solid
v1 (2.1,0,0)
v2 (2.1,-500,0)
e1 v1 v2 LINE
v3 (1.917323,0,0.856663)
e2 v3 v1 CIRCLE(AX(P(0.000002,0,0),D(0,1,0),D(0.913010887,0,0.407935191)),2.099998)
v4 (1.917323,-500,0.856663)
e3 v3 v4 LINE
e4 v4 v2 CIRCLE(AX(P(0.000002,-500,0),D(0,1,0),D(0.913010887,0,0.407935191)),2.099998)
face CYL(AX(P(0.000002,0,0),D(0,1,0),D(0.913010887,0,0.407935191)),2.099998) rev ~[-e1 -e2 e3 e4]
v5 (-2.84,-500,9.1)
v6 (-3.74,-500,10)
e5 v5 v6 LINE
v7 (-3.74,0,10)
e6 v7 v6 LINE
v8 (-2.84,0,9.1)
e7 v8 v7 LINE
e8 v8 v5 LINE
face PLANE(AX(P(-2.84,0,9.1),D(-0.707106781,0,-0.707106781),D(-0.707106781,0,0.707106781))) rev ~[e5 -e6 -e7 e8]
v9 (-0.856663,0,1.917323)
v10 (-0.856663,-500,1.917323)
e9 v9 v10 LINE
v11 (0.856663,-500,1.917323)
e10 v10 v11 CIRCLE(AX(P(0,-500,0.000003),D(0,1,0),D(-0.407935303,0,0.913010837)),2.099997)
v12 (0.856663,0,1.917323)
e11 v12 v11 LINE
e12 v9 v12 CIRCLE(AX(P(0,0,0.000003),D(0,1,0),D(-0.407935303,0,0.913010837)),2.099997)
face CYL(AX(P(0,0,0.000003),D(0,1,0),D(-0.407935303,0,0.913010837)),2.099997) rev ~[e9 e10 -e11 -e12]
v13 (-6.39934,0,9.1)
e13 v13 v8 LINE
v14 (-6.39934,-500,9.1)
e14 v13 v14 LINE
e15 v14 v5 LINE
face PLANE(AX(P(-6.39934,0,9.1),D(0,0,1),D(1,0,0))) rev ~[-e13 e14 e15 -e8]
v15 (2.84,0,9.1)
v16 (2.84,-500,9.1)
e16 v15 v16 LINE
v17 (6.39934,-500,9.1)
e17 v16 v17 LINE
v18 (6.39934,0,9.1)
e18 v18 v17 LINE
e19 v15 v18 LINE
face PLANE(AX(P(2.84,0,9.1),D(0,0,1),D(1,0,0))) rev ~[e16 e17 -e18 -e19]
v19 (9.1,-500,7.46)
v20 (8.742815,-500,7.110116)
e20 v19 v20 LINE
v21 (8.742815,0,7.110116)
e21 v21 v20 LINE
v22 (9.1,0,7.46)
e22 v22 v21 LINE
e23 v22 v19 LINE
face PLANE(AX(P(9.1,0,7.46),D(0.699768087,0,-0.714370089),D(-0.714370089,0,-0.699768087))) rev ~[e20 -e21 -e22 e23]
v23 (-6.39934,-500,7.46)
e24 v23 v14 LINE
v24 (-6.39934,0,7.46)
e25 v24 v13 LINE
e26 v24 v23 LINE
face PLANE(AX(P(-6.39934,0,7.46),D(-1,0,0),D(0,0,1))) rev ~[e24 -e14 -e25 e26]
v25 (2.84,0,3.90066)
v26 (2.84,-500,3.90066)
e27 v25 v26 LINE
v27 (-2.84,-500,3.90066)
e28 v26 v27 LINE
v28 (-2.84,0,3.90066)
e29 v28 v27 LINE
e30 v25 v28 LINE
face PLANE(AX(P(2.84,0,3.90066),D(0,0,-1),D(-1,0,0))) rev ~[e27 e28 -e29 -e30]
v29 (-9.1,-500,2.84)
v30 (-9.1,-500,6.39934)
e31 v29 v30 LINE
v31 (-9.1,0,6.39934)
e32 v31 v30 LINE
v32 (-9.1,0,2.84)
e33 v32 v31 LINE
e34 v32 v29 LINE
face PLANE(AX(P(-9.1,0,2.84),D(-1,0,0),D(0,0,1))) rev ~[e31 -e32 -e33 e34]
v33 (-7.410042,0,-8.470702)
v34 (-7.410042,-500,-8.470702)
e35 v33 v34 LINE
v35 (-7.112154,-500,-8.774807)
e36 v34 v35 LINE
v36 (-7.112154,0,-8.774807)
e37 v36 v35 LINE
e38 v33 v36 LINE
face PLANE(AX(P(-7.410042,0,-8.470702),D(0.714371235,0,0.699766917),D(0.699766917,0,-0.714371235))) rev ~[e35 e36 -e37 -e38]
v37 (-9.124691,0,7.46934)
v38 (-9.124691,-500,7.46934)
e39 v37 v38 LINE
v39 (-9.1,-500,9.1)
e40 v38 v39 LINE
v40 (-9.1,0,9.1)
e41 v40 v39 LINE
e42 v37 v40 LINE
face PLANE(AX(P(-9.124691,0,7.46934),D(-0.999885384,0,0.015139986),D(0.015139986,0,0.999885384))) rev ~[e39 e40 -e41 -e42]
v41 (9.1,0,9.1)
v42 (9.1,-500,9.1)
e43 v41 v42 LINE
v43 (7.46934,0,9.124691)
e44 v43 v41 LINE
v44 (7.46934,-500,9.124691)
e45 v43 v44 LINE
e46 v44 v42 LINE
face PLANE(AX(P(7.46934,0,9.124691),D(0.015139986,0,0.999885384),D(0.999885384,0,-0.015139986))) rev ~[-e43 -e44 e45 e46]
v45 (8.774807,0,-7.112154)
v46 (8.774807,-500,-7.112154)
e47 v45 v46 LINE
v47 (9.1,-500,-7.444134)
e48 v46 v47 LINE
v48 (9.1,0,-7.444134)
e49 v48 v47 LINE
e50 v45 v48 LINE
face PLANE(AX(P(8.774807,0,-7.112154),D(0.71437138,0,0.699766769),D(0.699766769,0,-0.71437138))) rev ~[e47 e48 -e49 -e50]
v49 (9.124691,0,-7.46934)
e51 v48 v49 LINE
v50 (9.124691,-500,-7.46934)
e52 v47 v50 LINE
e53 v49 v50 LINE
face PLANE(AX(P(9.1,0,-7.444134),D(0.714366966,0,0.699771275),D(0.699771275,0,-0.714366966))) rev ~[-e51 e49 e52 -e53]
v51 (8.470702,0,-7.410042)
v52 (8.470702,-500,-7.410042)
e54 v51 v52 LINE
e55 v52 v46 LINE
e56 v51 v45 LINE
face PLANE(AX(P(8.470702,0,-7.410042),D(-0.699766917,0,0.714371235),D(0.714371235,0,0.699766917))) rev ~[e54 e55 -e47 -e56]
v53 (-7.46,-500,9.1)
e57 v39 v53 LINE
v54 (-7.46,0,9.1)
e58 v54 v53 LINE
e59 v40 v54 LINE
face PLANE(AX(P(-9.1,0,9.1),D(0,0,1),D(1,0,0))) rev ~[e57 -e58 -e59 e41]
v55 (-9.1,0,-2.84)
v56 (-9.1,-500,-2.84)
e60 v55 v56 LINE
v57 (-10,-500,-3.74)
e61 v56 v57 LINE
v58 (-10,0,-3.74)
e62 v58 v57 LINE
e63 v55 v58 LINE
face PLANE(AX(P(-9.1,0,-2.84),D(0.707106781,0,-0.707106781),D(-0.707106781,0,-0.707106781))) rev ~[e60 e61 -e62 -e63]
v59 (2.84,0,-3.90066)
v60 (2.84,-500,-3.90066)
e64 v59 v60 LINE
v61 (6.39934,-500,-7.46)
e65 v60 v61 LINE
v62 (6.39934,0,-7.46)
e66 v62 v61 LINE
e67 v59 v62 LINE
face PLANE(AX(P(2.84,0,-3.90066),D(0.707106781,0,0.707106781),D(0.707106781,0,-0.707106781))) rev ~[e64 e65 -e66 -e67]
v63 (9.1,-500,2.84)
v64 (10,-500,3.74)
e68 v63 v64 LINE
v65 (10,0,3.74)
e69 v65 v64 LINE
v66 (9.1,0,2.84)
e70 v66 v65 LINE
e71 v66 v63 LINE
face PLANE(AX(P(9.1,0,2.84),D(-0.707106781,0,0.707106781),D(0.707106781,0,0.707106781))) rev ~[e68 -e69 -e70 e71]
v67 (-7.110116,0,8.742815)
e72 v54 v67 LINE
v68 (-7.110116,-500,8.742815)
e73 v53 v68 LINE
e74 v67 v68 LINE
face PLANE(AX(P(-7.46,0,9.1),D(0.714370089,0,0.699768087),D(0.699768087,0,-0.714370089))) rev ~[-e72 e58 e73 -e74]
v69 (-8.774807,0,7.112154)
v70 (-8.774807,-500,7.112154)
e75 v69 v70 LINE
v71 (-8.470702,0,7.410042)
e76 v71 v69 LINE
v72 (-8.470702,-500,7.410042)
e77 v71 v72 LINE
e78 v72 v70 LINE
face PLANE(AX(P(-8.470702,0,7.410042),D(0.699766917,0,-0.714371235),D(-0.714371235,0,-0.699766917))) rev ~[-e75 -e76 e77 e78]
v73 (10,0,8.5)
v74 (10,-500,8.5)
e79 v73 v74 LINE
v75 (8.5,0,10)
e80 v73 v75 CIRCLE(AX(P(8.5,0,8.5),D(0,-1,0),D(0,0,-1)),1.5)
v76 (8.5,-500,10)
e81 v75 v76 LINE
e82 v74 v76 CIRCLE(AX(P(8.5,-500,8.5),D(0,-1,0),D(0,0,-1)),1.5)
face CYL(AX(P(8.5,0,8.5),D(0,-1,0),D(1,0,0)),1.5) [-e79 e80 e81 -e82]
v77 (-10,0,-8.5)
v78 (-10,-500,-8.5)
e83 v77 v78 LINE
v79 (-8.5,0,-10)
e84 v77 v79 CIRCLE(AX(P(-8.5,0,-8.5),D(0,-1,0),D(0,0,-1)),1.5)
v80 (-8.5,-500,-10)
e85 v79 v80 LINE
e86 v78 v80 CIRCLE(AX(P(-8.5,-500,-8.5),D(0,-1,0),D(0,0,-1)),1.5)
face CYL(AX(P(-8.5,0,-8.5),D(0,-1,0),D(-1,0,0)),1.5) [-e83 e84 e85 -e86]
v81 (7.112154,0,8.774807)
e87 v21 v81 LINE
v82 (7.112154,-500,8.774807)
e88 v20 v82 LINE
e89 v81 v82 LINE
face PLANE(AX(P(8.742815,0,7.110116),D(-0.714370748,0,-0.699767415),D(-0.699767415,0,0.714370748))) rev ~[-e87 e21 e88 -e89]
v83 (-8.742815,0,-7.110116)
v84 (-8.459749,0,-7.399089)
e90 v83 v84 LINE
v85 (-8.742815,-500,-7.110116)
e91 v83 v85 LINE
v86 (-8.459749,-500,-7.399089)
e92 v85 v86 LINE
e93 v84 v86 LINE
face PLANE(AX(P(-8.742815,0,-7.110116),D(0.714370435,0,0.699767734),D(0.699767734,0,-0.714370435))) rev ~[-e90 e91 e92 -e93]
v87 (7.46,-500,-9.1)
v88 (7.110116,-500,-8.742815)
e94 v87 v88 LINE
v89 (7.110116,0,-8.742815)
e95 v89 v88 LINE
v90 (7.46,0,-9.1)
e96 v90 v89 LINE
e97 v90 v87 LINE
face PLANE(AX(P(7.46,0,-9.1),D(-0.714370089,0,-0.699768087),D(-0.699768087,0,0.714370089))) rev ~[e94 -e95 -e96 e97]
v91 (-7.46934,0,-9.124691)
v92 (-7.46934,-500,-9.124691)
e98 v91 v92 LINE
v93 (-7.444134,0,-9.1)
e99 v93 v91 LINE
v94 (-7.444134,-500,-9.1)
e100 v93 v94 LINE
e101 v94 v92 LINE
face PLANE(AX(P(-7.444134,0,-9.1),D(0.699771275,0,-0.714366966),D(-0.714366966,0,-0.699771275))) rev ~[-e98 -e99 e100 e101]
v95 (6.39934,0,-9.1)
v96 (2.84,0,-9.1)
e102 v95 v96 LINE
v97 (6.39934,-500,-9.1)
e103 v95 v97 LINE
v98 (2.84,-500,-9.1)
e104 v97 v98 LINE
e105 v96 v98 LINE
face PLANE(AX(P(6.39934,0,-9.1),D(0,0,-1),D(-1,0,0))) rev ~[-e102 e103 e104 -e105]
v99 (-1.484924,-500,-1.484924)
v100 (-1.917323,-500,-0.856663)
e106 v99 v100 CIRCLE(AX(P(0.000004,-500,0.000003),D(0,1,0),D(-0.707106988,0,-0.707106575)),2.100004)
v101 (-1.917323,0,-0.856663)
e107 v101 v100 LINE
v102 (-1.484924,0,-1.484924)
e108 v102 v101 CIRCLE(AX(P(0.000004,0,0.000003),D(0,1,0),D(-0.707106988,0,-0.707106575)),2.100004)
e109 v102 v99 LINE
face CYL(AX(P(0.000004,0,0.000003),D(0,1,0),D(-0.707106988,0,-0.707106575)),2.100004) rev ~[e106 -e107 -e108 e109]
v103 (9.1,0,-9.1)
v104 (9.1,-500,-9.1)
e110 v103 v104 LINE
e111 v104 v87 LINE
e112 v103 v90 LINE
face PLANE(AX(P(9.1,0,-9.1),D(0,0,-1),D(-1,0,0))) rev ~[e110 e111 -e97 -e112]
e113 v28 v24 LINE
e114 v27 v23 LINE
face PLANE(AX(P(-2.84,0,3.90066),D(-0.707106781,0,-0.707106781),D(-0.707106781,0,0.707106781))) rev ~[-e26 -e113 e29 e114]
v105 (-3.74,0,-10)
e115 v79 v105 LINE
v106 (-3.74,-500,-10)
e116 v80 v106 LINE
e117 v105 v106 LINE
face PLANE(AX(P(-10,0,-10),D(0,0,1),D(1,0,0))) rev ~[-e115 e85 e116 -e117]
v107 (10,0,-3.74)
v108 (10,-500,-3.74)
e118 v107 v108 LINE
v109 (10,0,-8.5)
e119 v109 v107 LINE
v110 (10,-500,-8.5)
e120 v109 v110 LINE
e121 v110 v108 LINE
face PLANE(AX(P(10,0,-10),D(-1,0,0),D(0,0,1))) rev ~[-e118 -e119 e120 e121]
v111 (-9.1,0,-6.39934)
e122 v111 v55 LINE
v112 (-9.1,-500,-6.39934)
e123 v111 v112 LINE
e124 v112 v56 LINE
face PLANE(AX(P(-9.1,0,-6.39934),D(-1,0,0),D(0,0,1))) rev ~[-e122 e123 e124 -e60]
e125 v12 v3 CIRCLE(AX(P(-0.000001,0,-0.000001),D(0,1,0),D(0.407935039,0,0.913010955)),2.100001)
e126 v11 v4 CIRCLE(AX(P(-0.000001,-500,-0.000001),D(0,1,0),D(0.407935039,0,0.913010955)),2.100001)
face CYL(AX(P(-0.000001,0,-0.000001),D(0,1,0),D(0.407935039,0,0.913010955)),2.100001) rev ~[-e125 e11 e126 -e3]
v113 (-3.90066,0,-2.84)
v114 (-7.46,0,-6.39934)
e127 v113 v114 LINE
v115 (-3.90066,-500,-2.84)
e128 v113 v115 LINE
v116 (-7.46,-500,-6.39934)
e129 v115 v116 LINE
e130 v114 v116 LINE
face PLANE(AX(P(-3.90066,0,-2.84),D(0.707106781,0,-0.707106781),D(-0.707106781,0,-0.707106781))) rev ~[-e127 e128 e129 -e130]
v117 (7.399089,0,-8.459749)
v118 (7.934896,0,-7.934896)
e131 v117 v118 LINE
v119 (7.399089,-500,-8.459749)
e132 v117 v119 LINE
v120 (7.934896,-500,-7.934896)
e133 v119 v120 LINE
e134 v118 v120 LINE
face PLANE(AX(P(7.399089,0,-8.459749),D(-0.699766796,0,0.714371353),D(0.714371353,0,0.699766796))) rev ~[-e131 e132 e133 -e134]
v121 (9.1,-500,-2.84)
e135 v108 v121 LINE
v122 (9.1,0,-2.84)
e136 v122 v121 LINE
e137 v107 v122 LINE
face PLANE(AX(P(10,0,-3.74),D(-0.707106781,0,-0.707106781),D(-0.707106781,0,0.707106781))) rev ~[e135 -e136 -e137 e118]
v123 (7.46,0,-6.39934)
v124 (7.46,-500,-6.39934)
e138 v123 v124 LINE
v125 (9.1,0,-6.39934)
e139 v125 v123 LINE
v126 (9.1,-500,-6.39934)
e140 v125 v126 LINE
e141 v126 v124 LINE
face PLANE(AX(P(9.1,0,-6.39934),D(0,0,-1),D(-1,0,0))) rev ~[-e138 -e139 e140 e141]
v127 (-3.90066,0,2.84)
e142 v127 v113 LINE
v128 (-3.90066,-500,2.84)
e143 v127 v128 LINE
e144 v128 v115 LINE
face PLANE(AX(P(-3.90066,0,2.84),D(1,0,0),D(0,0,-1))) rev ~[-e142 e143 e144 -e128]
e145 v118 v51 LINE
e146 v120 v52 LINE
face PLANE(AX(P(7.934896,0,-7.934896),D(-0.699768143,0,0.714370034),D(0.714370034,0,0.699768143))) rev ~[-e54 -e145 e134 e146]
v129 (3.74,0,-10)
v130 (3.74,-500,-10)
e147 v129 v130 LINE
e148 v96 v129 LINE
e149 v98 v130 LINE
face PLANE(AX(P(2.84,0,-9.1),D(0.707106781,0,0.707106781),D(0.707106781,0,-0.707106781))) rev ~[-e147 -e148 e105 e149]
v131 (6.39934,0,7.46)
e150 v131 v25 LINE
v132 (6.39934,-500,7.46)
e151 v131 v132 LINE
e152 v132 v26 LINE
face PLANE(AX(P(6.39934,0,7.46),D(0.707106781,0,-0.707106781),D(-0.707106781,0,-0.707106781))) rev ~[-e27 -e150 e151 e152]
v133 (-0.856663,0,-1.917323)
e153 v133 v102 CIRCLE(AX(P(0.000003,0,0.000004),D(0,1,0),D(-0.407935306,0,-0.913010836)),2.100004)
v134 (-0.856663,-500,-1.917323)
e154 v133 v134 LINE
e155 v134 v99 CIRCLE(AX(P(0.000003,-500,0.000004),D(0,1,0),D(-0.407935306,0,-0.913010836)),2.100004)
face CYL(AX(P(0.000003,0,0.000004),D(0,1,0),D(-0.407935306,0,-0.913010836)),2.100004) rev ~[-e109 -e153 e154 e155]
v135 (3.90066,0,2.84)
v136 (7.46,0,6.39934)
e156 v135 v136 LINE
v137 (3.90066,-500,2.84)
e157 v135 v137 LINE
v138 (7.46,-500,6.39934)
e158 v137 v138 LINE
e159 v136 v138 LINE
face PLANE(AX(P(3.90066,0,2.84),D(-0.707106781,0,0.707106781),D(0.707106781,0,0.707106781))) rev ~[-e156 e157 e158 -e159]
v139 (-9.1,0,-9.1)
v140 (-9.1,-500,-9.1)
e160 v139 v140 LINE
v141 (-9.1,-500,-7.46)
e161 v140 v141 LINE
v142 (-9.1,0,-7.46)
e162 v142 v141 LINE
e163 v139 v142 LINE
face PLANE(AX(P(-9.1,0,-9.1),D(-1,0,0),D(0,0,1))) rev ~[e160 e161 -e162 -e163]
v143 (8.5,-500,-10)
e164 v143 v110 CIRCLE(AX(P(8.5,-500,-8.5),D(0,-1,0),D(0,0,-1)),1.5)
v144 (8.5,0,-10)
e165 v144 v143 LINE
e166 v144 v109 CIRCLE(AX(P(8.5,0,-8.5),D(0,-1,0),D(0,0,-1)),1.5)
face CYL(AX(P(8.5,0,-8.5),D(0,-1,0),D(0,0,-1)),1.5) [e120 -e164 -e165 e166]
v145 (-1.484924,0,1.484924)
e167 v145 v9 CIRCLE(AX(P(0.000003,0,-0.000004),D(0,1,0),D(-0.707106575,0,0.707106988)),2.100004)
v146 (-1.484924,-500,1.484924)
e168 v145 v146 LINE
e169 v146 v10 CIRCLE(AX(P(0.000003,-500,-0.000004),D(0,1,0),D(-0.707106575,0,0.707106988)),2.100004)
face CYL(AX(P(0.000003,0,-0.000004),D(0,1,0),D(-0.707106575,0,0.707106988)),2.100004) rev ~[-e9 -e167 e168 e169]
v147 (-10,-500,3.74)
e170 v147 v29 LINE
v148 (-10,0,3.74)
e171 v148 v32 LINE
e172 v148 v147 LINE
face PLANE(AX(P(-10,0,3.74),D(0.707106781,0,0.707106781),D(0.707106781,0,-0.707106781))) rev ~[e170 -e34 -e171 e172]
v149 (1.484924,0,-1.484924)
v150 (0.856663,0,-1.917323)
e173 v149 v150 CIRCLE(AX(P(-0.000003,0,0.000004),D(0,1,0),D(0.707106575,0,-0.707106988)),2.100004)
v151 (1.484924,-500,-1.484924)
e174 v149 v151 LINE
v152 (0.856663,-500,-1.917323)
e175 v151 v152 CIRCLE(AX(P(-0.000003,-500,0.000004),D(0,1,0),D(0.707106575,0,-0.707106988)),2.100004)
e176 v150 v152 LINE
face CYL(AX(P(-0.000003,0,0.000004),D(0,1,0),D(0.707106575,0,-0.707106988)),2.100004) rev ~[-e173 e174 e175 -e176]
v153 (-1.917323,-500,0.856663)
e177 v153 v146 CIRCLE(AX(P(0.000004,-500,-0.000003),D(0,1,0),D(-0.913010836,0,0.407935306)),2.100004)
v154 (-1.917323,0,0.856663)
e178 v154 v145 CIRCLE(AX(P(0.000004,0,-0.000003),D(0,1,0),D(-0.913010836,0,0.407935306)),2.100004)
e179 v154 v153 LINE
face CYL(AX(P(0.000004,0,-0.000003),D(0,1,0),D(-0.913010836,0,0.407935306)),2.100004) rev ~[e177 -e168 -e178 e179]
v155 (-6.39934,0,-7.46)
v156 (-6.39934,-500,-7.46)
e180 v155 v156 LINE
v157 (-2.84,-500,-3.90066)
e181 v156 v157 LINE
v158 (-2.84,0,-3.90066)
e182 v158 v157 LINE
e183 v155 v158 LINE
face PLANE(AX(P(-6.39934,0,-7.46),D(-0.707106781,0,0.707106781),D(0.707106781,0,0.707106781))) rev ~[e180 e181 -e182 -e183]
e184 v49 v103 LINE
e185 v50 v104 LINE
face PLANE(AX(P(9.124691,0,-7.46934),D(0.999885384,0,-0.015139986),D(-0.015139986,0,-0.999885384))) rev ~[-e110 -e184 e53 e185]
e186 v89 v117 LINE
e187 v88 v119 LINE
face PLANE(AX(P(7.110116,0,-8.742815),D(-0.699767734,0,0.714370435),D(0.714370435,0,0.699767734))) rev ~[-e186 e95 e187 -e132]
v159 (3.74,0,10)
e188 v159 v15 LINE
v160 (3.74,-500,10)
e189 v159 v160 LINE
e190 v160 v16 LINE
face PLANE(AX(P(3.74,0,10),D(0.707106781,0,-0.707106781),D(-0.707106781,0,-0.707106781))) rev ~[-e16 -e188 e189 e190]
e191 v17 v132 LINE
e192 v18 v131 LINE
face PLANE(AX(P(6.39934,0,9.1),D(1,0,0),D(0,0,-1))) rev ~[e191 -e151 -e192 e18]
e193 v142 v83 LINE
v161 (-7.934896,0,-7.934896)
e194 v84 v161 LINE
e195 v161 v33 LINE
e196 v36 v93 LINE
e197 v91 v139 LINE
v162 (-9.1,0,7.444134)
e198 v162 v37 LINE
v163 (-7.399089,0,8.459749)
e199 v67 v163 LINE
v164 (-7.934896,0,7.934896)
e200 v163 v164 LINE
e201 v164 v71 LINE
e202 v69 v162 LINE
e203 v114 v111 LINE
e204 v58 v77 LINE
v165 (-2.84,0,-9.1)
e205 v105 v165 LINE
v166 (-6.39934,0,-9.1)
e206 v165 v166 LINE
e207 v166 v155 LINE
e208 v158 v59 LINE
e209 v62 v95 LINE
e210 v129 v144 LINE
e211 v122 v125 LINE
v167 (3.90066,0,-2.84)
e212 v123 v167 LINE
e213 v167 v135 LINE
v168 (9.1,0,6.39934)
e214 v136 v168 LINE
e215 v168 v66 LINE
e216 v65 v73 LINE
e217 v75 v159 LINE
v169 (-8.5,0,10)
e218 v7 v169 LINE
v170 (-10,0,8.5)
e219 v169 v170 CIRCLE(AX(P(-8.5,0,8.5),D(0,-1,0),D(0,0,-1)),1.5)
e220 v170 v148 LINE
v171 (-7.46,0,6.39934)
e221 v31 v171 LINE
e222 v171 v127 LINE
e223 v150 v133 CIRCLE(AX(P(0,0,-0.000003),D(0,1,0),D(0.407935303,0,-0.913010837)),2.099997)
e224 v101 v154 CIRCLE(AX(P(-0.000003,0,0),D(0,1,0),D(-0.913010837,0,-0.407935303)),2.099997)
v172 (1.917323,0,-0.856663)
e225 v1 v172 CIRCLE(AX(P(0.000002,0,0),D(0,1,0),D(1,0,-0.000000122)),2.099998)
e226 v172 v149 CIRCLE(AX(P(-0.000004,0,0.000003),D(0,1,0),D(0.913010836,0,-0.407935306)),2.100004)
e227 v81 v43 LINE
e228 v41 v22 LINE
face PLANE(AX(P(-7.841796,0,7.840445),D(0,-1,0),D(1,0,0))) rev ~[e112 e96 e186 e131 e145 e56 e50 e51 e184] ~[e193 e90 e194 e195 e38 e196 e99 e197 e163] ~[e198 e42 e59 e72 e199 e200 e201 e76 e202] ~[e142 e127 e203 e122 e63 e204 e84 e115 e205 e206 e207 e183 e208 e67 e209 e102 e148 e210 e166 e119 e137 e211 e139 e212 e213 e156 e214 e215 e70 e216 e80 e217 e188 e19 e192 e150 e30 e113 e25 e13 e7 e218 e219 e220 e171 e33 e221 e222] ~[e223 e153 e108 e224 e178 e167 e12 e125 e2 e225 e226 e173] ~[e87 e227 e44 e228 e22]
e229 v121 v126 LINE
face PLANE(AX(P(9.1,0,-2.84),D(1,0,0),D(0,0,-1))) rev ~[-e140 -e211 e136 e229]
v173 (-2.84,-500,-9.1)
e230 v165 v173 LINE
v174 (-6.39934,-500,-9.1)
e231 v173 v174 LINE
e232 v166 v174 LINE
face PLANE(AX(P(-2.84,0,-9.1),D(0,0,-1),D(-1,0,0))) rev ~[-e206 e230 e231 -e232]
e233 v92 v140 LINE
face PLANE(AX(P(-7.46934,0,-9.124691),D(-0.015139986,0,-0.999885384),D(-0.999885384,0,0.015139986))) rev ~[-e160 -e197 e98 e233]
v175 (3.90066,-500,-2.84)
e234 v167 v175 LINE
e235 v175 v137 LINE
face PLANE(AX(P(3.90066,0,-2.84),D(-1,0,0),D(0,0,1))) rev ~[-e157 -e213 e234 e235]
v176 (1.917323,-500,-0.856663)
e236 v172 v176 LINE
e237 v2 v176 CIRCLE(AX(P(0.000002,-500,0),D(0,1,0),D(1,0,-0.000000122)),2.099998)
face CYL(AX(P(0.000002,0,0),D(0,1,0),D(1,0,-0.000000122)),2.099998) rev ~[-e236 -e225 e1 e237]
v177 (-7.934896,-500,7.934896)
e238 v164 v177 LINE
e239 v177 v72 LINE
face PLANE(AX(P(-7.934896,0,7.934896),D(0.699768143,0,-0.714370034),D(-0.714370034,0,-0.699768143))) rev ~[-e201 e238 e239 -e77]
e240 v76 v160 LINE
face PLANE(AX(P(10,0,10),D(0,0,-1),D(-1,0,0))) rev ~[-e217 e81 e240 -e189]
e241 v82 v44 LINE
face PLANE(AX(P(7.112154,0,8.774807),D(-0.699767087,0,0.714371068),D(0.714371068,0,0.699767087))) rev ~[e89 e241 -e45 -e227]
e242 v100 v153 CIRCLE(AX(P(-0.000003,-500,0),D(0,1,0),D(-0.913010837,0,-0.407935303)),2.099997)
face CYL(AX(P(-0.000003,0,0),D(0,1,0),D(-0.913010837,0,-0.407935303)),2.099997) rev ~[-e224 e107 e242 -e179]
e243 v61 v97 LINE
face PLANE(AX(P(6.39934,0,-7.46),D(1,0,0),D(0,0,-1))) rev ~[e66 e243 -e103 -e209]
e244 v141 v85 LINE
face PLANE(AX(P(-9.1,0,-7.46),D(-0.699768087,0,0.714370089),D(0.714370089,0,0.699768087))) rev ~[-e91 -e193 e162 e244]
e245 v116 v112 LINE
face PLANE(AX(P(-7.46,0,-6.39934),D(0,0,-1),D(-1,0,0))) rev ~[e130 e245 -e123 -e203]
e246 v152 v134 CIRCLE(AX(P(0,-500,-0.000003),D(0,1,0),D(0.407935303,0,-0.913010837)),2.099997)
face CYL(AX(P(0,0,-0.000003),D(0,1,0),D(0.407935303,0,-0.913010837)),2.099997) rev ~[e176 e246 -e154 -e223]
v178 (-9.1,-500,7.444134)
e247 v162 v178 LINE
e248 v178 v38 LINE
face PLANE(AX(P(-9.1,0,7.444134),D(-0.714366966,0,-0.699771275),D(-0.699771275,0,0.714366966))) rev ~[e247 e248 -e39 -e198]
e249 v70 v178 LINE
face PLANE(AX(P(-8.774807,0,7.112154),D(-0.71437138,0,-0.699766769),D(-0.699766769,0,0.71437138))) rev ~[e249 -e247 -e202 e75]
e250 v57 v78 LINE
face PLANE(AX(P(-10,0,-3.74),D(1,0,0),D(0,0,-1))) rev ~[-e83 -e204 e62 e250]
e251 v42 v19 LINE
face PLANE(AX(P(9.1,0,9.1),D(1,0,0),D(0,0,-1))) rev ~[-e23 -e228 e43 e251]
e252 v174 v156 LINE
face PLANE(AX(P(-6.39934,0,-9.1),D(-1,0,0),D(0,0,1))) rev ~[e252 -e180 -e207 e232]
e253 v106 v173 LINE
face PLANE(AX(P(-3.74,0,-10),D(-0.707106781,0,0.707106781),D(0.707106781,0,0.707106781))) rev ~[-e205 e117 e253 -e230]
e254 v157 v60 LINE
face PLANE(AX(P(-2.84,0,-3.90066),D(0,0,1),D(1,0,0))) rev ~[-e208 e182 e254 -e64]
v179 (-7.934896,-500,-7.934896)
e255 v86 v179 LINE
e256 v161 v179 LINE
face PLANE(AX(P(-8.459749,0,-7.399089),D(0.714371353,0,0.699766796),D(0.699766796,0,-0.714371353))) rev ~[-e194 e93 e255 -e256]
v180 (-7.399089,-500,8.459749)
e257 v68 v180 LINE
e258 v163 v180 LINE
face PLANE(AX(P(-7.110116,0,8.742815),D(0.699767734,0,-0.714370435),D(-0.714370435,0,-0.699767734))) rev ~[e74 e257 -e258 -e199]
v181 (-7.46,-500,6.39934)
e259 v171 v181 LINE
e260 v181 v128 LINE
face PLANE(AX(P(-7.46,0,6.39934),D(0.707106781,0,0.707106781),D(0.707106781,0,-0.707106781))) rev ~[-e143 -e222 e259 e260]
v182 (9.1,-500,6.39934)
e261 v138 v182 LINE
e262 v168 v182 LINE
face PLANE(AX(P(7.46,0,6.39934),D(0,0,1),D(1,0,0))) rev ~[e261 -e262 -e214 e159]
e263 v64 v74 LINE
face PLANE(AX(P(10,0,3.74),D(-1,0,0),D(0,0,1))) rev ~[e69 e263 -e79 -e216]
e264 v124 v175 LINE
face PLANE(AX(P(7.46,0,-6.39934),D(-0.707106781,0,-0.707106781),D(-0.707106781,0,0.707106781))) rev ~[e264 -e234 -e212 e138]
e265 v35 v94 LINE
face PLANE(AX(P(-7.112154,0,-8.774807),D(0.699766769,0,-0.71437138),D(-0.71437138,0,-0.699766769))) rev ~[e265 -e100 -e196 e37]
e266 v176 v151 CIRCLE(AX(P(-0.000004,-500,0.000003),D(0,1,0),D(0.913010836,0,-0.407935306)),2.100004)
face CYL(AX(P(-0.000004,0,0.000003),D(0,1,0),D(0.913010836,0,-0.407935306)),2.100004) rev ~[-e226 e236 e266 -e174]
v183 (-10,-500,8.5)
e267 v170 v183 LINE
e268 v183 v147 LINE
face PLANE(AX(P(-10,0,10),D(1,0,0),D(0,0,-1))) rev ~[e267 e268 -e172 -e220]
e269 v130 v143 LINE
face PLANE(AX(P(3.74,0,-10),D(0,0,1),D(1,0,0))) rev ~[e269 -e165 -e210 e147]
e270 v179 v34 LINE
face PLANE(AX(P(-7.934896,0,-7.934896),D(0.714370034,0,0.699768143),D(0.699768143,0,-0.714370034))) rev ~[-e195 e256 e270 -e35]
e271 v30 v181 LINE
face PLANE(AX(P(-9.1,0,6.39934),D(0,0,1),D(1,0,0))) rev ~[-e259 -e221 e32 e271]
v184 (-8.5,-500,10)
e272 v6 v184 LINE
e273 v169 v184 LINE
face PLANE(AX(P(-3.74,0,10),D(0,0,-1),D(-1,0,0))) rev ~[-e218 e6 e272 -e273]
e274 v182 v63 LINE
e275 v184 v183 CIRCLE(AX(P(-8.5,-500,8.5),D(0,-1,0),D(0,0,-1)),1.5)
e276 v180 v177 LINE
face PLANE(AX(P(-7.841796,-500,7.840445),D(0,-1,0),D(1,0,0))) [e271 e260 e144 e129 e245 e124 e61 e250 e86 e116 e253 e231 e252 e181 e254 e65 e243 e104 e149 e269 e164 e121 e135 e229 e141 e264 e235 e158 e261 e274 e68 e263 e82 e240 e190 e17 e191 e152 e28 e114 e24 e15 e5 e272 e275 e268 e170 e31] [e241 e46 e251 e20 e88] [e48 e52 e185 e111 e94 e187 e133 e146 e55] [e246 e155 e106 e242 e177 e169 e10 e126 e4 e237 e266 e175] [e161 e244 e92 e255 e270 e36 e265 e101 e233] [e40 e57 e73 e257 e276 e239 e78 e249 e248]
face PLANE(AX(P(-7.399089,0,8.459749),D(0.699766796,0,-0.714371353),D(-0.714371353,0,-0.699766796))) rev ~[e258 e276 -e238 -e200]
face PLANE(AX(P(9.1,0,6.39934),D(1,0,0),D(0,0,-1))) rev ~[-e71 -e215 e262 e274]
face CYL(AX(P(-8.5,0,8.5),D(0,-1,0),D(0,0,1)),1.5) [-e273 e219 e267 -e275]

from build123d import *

# Parameters (mm, degrees)
F1_DEPTH = 500
F2_R     = 1.5


with BuildPart() as f1:
    # F0 (on Front) → F1 (new body)
    with BuildSketch(Plane.XZ):
        Polygon((-7.46, 9.1), (-6.39934, 9.1), (-2.84, 9.1), (-3.74, 10), (-10, 10), (-10, 3.74), (-9.1, 2.84), (-9.1, 6.39934), (-9.1, 7.444134), (-9.124691, 7.46934), (-9.1, 9.1), align=None)
        Polygon((-7.399089, 8.459749), (-6.39934, 7.46), (-6.39934, 9.1), (-7.46, 9.1), (-7.110116, 8.742815), align=None)
        Polygon((-7.46, 6.39934), (-8.470702, 7.410042), (-8.774807, 7.112154), (-9.1, 7.444134), (-9.1, 6.39934), align=None)
        with BuildLine():
            ThreePointArc((-1.917323, 0.856663), (-1.729884, 1.190588), (-1.484924, 1.484924))
            Line((-1.484924, 1.484924), (-7.934896, 7.934896))
            Line((-7.934896, 7.934896), (-8.470702, 7.410042))
            Line((-8.470702, 7.410042), (-7.46, 6.39934))
            Line((-7.46, 6.39934), (-3.90066, 2.84))
            Line((-3.90066, 2.84), (-1.917323, 0.856663))
        make_face()
        with BuildLine():
            ThreePointArc((-1.484924, 1.484924), (-1.190588, 1.729884), (-0.856663, 1.917323))
            Line((-0.856663, 1.917323), (-2.84, 3.90066))
            Line((-2.84, 3.90066), (-6.39934, 7.46))
            Line((-6.39934, 7.46), (-7.399089, 8.459749))
            Line((-7.399089, 8.459749), (-7.934896, 7.934896))
            Line((-7.934896, 7.934896), (-1.484924, 1.484924))
        make_face()
        with BuildLine():
            ThreePointArc((0.856663, 1.917323), (1.484924, 1.484924), (1.917323, 0.856663))
            Line((1.917323, 0.856663), (3.90066, 2.84))
            Line((3.90066, 2.84), (7.46, 6.39934))
            Line((7.46, 6.39934), (9.1, 6.39934))
            Line((9.1, 6.39934), (9.1, 2.84))
            Line((9.1, 2.84), (10, 3.74))
            Line((10, 3.74), (10, 10))
            Line((10, 10), (3.74, 10))
            Line((3.74, 10), (2.84, 9.1))
            Line((2.84, 9.1), (6.39934, 9.1))
            Line((6.39934, 9.1), (6.39934, 7.46))
            Line((6.39934, 7.46), (2.84, 3.90066))
            Line((2.84, 3.90066), (0.856663, 1.917323))
        make_face()
        Polygon((7.112154, 8.774807), (7.46934, 9.124691), (9.1, 9.1), (9.1, 7.46), (8.742815, 7.110116), align=None, mode=Mode.SUBTRACT)
        with BuildLine():
            ThreePointArc((1.917323, 0.856663), (2.053823, 0.437962), (2.1, 0))
            ThreePointArc((2.1, 0), (2.053823, -0.437962), (1.917323, -0.856663))
            Line((1.917323, -0.856663), (3.90066, -2.84))
            Line((3.90066, -2.84), (3.90066, 2.84))
            Line((3.90066, 2.84), (1.917323, 0.856663))
        make_face()
        with BuildLine():
            ThreePointArc((-0.856663, 1.917323), (0, 2.1), (0.856663, 1.917323))
            Line((0.856663, 1.917323), (2.84, 3.90066))
            Line((2.84, 3.90066), (-2.84, 3.90066))
            Line((-2.84, 3.90066), (-0.856663, 1.917323))
        make_face()
        with BuildLine():
            ThreePointArc((-1.917323, -0.856663), (-2.1, 0), (-1.917323, 0.856663))
            Line((-1.917323, 0.856663), (-3.90066, 2.84))
            Line((-3.90066, 2.84), (-3.90066, -2.84))
            Line((-3.90066, -2.84), (-1.917323, -0.856663))
        make_face()
        with BuildLine():
            Line((2.84, -3.90066), (0.856663, -1.917323))
            ThreePointArc((0.856663, -1.917323), (0, -2.1), (-0.856663, -1.917323))
            Line((-0.856663, -1.917323), (-2.84, -3.90066))
            Line((-2.84, -3.90066), (2.84, -3.90066))
        make_face()
        with BuildLine():
            Line((-2.84, -3.90066), (-0.856663, -1.917323))
            ThreePointArc((-0.856663, -1.917323), (-1.190588, -1.729884), (-1.484924, -1.484924))
            Line((-1.484924, -1.484924), (-7.934896, -7.934896))
            Line((-7.934896, -7.934896), (-7.410042, -8.470702))
            Line((-7.410042, -8.470702), (-6.39934, -7.46))
            Line((-6.39934, -7.46), (-2.84, -3.90066))
        make_face()
        with BuildLine():
            Line((-7.934896, -7.934896), (-1.484924, -1.484924))
            ThreePointArc((-1.484924, -1.484924), (-1.729884, -1.190588), (-1.917323, -0.856663))
            Line((-1.917323, -0.856663), (-3.90066, -2.84))
            Line((-3.90066, -2.84), (-7.46, -6.39934))
            Line((-7.46, -6.39934), (-8.459749, -7.399089))
            Line((-8.459749, -7.399089), (-7.934896, -7.934896))
        make_face()
        with BuildLine():
            Line((7.934896, -7.934896), (1.484924, -1.484924))
            ThreePointArc((1.484924, -1.484924), (1.190588, -1.729884), (0.856663, -1.917323))
            Line((0.856663, -1.917323), (2.84, -3.90066))
            Line((2.84, -3.90066), (6.39934, -7.46))
            Line((6.39934, -7.46), (7.399089, -8.459749))
            Line((7.399089, -8.459749), (7.934896, -7.934896))
        make_face()
        with BuildLine():
            Line((3.90066, -2.84), (1.917323, -0.856663))
            ThreePointArc((1.917323, -0.856663), (1.729884, -1.190588), (1.484924, -1.484924))
            Line((1.484924, -1.484924), (7.934896, -7.934896))
            Line((7.934896, -7.934896), (8.470702, -7.410042))
            Line((8.470702, -7.410042), (7.46, -6.39934))
            Line((7.46, -6.39934), (3.90066, -2.84))
        make_face()
        Polygon((9.1, -2.84), (9.1, -6.39934), (9.1, -7.444134), (9.124691, -7.46934), (9.1, -9.1), (7.46, -9.1), (6.39934, -9.1), (2.84, -9.1), (3.74, -10), (10, -10), (10, -3.74), align=None)
        Polygon((9.1, -6.39934), (7.46, -6.39934), (8.470702, -7.410042), (8.774807, -7.112154), (9.1, -7.444134), align=None)
        Polygon((7.110116, -8.742815), (7.399089, -8.459749), (6.39934, -7.46), (6.39934, -9.1), (7.46, -9.1), align=None)
        Polygon((-2.84, -9.1), (-6.39934, -9.1), (-7.444134, -9.1), (-7.46934, -9.124691), (-9.1, -9.1), (-9.1, -7.46), (-9.1, -6.39934), (-9.1, -2.84), (-10, -3.74), (-10, -10), (-3.74, -10), align=None)
        Polygon((-6.39934, -9.1), (-6.39934, -7.46), (-7.410042, -8.470702), (-7.112154, -8.774807), (-7.444134, -9.1), align=None)
        Polygon((-8.742815, -7.110116), (-8.459749, -7.399089), (-7.46, -6.39934), (-9.1, -6.39934), (-9.1, -7.46), align=None)
    extrude(amount=F1_DEPTH)

    # F2
    f2_edges = [f1.edges().sort_by_distance(p)[0] for p in [
        (10, -250, 10),
        (-10, -250, 10),
        (-10, -250, -10),
        (10, -250, -10),
    ]]
    fillet(f2_edges, radius=F2_R)


solid = f1.part
